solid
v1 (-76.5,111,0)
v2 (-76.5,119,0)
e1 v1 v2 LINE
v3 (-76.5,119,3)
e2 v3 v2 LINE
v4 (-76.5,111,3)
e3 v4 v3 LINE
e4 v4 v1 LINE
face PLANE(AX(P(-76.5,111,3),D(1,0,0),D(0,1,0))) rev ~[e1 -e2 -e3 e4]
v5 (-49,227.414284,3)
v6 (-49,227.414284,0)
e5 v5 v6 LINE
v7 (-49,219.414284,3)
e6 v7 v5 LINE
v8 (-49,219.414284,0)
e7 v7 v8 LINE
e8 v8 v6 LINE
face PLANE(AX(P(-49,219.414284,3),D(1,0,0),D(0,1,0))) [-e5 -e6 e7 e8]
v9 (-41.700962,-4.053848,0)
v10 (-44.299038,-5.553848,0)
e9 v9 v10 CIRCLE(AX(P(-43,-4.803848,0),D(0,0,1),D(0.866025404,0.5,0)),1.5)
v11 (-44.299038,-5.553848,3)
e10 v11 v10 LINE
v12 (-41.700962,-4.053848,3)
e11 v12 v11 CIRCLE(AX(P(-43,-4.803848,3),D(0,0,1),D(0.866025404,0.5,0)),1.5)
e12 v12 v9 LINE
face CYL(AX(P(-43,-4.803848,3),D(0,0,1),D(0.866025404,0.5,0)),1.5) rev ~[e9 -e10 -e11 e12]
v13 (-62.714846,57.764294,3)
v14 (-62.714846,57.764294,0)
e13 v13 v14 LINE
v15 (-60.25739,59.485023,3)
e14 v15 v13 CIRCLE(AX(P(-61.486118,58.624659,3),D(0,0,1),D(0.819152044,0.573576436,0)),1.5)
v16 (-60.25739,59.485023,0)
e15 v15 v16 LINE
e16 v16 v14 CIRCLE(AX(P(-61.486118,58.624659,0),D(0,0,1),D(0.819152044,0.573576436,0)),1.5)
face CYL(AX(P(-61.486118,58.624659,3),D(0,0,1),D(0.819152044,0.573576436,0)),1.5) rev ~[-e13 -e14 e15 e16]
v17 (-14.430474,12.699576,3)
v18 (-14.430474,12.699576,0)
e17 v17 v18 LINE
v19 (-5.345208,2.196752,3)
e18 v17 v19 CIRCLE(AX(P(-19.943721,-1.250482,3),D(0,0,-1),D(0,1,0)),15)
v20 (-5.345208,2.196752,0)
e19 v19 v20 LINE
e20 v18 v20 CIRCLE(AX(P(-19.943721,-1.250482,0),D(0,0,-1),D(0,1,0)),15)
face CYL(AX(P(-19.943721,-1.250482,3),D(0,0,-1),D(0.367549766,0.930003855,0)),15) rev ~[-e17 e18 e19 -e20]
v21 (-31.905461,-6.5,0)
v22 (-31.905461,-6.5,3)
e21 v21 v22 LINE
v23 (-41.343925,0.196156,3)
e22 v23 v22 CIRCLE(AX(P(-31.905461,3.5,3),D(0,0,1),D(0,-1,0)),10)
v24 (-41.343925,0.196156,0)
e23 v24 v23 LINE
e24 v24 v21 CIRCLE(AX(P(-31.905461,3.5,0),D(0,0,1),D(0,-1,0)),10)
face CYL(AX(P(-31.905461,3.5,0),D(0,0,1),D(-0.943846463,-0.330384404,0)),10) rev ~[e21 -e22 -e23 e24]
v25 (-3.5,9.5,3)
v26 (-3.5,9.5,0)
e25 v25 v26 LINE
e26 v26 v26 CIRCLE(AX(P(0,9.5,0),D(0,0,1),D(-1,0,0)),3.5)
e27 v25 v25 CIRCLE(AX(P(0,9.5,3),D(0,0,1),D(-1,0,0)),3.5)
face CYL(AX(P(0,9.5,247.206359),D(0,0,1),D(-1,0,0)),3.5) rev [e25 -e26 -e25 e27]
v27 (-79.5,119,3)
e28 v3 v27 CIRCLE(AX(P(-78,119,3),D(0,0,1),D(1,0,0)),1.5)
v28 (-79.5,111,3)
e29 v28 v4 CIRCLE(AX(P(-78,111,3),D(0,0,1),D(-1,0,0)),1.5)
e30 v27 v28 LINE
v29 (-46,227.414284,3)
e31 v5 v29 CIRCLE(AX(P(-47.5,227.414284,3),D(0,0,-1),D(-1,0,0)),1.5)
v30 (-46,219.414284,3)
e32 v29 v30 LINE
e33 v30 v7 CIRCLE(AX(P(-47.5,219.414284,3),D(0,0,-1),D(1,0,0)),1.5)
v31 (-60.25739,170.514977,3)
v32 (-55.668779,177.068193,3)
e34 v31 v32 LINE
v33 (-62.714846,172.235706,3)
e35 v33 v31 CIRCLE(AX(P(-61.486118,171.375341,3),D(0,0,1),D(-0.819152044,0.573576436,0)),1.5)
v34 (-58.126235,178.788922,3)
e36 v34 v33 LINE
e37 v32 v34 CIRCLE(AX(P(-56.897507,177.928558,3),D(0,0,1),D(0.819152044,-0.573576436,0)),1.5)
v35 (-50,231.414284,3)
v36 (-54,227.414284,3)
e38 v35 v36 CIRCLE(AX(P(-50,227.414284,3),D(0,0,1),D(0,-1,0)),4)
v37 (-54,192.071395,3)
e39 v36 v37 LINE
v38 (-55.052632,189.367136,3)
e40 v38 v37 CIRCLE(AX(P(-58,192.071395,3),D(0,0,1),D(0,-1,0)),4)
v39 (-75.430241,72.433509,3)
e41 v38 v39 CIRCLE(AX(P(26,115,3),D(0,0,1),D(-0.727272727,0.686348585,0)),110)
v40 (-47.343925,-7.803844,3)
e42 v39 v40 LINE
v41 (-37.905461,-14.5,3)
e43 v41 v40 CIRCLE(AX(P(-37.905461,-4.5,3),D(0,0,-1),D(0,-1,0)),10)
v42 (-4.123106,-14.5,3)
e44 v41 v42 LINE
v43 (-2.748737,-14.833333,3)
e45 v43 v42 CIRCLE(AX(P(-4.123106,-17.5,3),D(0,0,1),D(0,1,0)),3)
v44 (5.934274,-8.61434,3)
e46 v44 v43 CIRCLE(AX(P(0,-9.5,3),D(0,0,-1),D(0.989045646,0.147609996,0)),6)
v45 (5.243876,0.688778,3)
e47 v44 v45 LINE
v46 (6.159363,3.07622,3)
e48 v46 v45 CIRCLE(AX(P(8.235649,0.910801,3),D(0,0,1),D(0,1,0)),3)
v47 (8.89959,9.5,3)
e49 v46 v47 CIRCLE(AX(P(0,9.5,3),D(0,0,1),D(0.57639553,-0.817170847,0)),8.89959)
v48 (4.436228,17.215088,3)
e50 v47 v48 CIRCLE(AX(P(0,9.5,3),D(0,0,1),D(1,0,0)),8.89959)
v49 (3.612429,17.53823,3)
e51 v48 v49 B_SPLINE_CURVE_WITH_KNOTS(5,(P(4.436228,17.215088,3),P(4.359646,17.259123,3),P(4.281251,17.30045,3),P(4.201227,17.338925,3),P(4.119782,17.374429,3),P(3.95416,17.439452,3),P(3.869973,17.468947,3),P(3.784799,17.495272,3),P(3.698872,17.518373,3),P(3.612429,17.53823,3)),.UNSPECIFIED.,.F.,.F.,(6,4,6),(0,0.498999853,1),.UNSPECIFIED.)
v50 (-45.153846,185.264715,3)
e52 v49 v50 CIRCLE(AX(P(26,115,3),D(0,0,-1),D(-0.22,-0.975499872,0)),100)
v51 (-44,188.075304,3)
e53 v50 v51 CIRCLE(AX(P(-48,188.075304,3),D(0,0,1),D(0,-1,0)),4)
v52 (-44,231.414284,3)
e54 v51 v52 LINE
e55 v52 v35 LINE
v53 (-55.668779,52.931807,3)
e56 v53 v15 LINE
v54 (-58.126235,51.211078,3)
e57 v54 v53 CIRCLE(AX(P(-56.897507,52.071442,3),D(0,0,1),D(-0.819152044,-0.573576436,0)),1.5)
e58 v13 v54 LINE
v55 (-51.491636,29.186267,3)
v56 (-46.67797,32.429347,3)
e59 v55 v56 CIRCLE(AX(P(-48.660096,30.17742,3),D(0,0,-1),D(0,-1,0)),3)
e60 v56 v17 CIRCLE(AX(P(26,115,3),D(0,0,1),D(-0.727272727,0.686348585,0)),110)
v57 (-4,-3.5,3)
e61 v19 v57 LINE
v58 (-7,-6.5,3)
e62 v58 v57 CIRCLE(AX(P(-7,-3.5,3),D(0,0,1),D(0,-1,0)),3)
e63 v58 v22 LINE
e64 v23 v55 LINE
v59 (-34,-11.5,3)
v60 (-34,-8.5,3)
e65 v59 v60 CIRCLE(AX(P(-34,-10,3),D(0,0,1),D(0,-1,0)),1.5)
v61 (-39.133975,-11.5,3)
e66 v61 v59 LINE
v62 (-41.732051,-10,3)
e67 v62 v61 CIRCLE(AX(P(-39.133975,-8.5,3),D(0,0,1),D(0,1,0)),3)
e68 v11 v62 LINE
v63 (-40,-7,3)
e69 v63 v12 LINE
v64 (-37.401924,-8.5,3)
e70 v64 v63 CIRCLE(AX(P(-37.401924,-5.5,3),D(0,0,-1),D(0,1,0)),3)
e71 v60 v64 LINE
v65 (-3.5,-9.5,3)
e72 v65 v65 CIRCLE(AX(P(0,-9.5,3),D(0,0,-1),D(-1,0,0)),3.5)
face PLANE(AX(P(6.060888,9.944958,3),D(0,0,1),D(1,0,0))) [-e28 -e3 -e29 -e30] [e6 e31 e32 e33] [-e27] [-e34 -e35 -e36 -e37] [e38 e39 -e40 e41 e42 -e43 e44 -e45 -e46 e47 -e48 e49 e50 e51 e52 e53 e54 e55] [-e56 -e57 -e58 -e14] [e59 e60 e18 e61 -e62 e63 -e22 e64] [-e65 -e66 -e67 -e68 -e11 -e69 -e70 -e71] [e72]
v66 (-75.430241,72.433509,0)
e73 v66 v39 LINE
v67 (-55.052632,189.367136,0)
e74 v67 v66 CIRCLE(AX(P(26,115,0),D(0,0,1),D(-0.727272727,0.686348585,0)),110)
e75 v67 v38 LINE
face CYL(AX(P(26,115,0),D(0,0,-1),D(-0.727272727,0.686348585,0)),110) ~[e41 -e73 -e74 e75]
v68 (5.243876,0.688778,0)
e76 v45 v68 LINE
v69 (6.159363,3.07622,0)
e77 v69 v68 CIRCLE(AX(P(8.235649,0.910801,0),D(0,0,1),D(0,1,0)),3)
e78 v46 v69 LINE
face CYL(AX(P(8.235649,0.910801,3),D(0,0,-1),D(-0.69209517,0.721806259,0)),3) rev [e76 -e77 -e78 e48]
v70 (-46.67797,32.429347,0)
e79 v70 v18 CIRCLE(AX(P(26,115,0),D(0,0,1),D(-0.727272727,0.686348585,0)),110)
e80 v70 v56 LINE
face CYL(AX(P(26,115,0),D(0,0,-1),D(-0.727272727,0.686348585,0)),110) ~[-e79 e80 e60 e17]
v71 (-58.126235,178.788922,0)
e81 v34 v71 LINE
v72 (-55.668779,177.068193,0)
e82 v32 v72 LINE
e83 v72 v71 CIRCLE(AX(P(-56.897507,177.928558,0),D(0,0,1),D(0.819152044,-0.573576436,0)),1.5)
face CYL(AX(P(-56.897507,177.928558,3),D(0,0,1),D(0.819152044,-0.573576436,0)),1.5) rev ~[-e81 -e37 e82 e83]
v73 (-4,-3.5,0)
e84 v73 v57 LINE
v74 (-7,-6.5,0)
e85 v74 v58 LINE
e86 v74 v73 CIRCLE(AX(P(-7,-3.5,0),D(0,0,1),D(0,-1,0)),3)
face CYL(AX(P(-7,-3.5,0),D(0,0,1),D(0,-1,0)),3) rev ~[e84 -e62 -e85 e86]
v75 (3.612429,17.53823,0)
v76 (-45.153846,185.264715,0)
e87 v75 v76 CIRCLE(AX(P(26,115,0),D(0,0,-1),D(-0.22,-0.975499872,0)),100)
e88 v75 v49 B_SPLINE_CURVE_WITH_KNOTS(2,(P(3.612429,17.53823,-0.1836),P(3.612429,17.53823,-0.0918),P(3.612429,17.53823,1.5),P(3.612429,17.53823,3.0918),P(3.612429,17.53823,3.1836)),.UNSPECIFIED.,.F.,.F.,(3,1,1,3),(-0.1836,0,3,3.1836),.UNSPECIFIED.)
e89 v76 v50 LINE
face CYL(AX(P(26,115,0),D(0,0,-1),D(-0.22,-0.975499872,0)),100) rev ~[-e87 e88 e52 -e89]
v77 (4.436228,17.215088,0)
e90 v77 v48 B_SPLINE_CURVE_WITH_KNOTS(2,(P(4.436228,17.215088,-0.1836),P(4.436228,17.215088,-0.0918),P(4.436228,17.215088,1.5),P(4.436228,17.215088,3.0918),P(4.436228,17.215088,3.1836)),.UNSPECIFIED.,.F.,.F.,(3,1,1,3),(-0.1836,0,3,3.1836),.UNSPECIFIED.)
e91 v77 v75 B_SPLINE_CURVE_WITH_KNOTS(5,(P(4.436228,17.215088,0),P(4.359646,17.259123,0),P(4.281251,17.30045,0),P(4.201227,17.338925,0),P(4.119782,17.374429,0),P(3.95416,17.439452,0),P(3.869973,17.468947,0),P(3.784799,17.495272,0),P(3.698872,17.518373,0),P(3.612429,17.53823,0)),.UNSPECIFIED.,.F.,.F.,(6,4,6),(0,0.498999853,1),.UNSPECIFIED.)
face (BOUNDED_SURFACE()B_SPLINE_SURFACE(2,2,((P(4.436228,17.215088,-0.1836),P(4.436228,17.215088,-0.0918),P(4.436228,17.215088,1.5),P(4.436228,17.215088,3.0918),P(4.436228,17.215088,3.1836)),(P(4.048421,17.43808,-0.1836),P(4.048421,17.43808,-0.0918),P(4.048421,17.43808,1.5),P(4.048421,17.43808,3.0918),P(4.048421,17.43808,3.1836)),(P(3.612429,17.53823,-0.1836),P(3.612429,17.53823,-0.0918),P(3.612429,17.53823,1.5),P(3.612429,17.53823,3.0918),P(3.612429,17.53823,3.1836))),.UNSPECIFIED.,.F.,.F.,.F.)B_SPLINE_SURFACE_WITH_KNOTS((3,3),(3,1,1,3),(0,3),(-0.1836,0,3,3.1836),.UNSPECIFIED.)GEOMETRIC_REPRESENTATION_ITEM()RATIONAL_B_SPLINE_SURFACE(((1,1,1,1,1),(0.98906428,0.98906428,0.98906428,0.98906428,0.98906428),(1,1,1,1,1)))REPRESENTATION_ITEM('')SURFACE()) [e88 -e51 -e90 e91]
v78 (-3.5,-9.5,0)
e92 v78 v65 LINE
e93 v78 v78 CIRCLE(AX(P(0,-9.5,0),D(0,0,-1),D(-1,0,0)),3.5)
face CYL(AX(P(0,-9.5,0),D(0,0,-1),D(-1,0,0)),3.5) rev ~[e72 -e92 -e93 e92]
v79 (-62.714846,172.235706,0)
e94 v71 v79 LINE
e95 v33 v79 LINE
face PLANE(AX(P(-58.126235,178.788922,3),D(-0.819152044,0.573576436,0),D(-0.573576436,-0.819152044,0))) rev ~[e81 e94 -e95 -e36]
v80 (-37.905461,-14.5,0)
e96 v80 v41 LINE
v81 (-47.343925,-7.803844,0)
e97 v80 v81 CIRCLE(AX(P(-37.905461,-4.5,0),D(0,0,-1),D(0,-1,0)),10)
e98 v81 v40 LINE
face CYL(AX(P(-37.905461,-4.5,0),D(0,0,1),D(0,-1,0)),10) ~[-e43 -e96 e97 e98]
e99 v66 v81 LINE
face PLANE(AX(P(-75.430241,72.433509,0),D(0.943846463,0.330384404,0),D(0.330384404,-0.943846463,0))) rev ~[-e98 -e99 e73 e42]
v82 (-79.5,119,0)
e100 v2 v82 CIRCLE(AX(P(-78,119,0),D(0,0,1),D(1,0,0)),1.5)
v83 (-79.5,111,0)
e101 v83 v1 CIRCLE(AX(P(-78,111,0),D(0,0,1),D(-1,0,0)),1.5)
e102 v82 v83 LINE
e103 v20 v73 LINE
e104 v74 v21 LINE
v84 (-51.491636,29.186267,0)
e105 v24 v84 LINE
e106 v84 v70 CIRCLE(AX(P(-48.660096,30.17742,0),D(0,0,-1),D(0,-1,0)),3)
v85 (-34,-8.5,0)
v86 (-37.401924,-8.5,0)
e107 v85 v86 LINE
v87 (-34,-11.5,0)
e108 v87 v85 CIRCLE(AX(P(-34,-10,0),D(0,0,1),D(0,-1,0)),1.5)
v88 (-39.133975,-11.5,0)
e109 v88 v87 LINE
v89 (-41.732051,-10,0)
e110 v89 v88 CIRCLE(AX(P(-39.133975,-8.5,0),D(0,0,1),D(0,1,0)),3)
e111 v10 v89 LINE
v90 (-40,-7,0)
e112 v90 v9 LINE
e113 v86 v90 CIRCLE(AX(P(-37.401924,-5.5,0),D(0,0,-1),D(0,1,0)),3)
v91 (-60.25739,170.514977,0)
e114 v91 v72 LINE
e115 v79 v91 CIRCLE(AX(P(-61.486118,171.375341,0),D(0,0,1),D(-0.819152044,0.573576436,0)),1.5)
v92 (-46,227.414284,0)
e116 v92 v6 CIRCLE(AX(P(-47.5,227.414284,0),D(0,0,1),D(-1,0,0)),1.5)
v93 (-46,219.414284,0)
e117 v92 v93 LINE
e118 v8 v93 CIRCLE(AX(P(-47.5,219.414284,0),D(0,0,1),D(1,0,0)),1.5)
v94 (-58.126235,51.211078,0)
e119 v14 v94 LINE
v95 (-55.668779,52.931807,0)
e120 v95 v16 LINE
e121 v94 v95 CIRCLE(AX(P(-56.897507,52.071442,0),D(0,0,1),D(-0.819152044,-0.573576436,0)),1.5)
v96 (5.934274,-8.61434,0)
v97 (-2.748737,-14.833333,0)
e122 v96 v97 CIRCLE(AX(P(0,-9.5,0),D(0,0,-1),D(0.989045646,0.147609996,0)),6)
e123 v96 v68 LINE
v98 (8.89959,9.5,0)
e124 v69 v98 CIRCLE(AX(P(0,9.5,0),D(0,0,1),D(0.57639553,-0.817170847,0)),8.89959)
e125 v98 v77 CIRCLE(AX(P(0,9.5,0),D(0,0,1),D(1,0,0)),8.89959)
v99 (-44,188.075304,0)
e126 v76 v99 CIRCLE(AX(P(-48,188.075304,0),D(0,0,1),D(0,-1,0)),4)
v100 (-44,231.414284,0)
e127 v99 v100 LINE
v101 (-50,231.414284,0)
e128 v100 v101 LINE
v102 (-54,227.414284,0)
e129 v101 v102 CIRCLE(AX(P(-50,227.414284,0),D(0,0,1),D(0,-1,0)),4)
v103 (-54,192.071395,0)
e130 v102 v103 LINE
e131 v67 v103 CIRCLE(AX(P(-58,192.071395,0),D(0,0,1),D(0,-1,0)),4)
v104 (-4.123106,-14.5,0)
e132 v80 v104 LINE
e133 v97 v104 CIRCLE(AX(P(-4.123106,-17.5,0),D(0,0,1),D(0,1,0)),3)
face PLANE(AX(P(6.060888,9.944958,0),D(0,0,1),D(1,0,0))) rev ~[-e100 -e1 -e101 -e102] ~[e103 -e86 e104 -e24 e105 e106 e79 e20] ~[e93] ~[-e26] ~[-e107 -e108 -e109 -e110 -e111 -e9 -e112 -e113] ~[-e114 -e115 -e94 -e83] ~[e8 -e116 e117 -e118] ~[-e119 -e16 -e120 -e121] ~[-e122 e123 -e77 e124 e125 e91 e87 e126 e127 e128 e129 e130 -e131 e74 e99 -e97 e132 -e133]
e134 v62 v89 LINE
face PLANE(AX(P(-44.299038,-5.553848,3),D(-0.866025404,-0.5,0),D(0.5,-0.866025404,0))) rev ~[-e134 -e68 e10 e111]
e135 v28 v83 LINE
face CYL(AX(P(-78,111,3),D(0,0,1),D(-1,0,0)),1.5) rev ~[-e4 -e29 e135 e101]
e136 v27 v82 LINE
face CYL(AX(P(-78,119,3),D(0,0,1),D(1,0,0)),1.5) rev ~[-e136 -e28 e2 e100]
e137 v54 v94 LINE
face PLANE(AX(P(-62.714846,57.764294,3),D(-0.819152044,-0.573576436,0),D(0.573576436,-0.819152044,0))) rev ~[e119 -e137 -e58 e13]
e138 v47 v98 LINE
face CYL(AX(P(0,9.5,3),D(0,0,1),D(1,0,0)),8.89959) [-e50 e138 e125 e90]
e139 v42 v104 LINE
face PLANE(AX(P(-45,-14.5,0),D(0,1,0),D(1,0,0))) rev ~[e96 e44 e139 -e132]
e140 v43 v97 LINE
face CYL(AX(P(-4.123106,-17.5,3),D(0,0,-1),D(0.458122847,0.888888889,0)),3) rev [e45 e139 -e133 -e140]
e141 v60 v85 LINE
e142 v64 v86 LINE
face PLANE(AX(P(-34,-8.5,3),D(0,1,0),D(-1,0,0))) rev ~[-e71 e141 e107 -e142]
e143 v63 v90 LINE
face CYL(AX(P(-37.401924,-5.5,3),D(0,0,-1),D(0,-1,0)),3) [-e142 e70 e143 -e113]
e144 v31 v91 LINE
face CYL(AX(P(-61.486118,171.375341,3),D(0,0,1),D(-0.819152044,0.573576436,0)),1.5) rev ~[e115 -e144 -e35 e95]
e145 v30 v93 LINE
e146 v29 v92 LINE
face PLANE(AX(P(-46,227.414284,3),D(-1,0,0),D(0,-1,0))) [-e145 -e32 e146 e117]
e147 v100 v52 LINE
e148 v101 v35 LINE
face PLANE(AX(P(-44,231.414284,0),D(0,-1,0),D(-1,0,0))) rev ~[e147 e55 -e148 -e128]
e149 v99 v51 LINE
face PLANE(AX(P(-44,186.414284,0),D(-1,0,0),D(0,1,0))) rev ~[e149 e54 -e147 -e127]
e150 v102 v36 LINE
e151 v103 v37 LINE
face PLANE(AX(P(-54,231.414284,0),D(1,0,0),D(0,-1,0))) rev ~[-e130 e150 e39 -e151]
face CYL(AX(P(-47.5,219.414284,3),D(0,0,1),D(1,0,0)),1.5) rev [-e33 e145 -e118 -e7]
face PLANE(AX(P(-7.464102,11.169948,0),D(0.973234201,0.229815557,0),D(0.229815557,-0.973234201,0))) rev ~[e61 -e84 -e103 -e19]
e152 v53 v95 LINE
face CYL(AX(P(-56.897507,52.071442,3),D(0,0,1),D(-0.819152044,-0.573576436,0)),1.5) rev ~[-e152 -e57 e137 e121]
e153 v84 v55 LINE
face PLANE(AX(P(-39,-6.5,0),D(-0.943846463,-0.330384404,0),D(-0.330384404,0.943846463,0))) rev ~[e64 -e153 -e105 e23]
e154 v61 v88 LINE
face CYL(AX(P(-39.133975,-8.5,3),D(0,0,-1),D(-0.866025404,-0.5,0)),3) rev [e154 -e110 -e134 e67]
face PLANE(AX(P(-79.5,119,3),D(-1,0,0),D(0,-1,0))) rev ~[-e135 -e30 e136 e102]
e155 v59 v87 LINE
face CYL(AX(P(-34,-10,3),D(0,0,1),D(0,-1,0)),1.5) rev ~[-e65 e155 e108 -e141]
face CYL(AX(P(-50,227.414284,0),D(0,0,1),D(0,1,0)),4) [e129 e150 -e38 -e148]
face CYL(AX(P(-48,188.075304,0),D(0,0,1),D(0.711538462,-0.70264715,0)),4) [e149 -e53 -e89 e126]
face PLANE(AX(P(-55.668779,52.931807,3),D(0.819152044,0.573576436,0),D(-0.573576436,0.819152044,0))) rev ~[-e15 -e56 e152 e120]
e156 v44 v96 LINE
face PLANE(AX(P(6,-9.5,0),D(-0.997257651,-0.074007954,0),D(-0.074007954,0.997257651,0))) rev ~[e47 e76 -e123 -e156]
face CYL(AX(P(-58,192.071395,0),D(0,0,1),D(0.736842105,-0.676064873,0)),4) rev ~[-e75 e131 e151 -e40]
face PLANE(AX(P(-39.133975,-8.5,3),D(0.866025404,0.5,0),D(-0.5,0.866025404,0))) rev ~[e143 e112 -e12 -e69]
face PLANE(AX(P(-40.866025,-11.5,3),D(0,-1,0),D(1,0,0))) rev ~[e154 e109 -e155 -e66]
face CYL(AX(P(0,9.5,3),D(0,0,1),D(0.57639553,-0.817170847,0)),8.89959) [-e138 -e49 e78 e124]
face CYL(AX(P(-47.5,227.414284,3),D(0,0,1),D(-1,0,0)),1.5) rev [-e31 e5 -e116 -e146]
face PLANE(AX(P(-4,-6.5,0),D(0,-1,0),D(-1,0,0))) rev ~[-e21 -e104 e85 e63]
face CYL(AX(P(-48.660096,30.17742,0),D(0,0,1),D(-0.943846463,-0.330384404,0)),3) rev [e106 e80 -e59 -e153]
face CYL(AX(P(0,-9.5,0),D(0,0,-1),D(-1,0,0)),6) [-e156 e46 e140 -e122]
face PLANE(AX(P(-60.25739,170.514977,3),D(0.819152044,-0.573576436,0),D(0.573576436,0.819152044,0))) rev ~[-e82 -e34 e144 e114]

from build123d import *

# Parameters (mm, degrees)
SKETCH_1_R               = 1.5
EXTRUDE_1_DEPTH          = 3
FILLET_5_R               = 4
EXTRUDE_START            = -3
EXTRUDE_2_DEPTH          = 3
FILLET_7_R               = 3
FILLET_8_R               = 10
SKETCH_3_R               = 1.5
CUT_EXTRUDE_1_DEPTH      = 247.206358511
FILLET_9_R               = 3
CUT_EXTRUDE_2_DEPTH      = 9.5
FILLET_10_R              = 3
CUT_EXTRUDE_3_DEPTH      = 9.5
CUT_EXTRUDE_4_DEPTH      = 247.206358511
SKETCH_7_R               = 3.5
SKETCH_7_R_2             = 1.5
CUT_EXTRUDE_5_DEPTH      = 55
SKETCH_8_R               = 6
SKETCH_8_R_2             = 3.5
EXTRUDE_3_DEPTH          = 3
EXTRUDE_5_DEPTH          = 3
CUT_EXTRUDE_6_DEPTH      = 247.206358511
CUT_EXTRUDE_6_DEPTH_BACK = 247.206358511
SKETCH_12_R              = 3.5
FILLET_13_R              = 3
EXTRUDE_6_DEPTH          = 3
FILLET_14_R              = 3
FILLET_15_R              = 15


with BuildPart() as part:
    # 草图1 → 凸台-拉伸1 (new body)
    with BuildSketch(Plane.XY):
        with BuildLine():
            Line((4, -6.5), (4, 17.450012814))
            ThreePointArc((4, 17.450012814), (-70.193717354, 87.672930243), (-44, 186.414284285))
            Line((-44, 186.414284285), (-44, 231.414284285))
            Line((-44, 231.414284285), (-54, 231.414284285))
            Line((-54, 231.414284285), (-54, 190.498344353))
            ThreePointArc((-54, 190.498344353), (-80.042429579, 85.759563462), (-4, 9.169947557))
            Line((-4, 9.169947557), (-4, -6.5))
            ThreePointArc((-4, -6.5), (0, -14.5), (4, -6.5))
        make_face()
        with BuildLine():
            ThreePointArc((-1.5, -9.5), (0, -8), (1.5, -9.5))
            Line((1.5, -9.5), (-1.5, -9.5))
        make_face(mode=Mode.SUBTRACT)
        with Locations((0, 9.5)):
            Circle(SKETCH_1_R, mode=Mode.SUBTRACT)
    extrude(amount=EXTRUDE_1_DEPTH)

    # 圆角5
    fillet_5_edges = [part.edges().sort_by_distance(p)[0] for p in [
        (-54, 190.498344353, 1.5),
        (-54, 231.414284285, 1.5),
        (-44, 186.414284285, 1.5),
    ]]
    fillet(fillet_5_edges, radius=FILLET_5_R)

    # 草图2 → 凸台-拉伸2 (add)
    with BuildSketch(Plane.XY.offset(3).offset(EXTRUDE_START)):
        with BuildLine():
            Line((-45, -14.5), (0, -14.5))
            ThreePointArc((0, -14.5), (-4.472135955, -11.736067977), (-4, -6.5))
            Line((-4, -6.5), (-39, -6.5))
            Line((-39, -6.5), (-55.777803301, 41.431046717))
            ThreePointArc((-55.777803301, 41.431046717), (-66.906324005, 56.106749454), (-75.43024107, 72.433508525))
            Line((-75.43024107, 72.433508525), (-45, -14.5))
        make_face()
    extrude(amount=EXTRUDE_2_DEPTH)

    # 圆角7
    fillet_7_edges = [part.edges().sort_by_distance(p)[0] for p in [
        (-55.777803301, 41.431046717, 1.5),
    ]]
    fillet(fillet_7_edges, radius=FILLET_7_R)

    # 圆角8
    fillet_8_edges = [part.edges().sort_by_distance(p)[0] for p in [
        (-39, -6.5, 1.5),
        (-45, -14.5, 1.5),
    ]]
    fillet(fillet_8_edges, radius=FILLET_8_R)

    # 草图3 → 切除-拉伸1 (cut, through all)
    with BuildSketch(Plane.XY.offset(3)):
        with Locations((0, -9.5)):
            Circle(SKETCH_3_R)
    extrude(amount=-CUT_EXTRUDE_1_DEPTH, mode=Mode.SUBTRACT)

    # 圆角9
    fillet_9_edges = [part.edges().sort_by_distance(p)[0] for p in [
        (4, -6.5, 1.5),
        (-4, -6.5, 1.5),
    ]]
    fillet(fillet_9_edges, radius=FILLET_9_R)

    # 草图4 → 切除-拉伸2 (cut)
    with BuildSketch(Plane.XY.offset(3)):
        with BuildLine():
            Line((-34, -8.5), (-39.133974596, -8.5))
            Line((-39.133974596, -8.5), (-41.700961894, -4.053847577))
            ThreePointArc((-41.700961894, -4.053847577), (-43.75, -3.504809472), (-44.299038106, -5.553847577))
            Line((-44.299038106, -5.553847577), (-40.866025404, -11.5))
            Line((-40.866025404, -11.5), (-34, -11.5))
            ThreePointArc((-34, -11.5), (-32.5, -10), (-34, -8.5))
        make_face()
    extrude(amount=-CUT_EXTRUDE_2_DEPTH, mode=Mode.SUBTRACT)

    # 圆角10
    fillet_10_edges = [part.edges().sort_by_distance(p)[0] for p in [
        (-40.866025404, -11.5, 1.5),
        (-39.133974596, -8.5, 1.5),
    ]]
    fillet(fillet_10_edges, radius=FILLET_10_R)

    # 草图5 → 切除-拉伸3 (cut)
    with BuildSketch(Plane.XY.offset(3)):
        with BuildLine():
            Line((-58.126234927, 178.788922212), (-62.714846418, 172.235705858))
            ThreePointArc((-62.714846418, 172.235705858), (-62.346483006, 170.146613137), (-60.257390285, 170.514976549))
            Line((-60.257390285, 170.514976549), (-55.668778794, 177.068192903))
            ThreePointArc((-55.668778794, 177.068192903), (-56.037142206, 179.157285624), (-58.126234927, 178.788922212))
        make_face()
        with BuildLine():
            Line((-79.5, 119), (-79.5, 111))
            ThreePointArc((-79.5, 111), (-78, 109.5), (-76.5, 111))
            Line((-76.5, 111), (-76.5, 119))
            ThreePointArc((-76.5, 119), (-78, 120.5), (-79.5, 119))
        make_face()
        with BuildLine():
            Line((-62.714846418, 57.764294142), (-58.126234927, 51.211077788))
            ThreePointArc((-58.126234927, 51.211077788), (-56.037142206, 50.842714376), (-55.668778794, 52.931807097))
            Line((-55.668778794, 52.931807097), (-60.257390285, 59.485023451))
            ThreePointArc((-60.257390285, 59.485023451), (-62.346483006, 59.853386863), (-62.714846418, 57.764294142))
        make_face()
    extrude(amount=-CUT_EXTRUDE_3_DEPTH, mode=Mode.SUBTRACT)

    # 草图6 → 切除-拉伸4 (cut, through all)
    with BuildSketch(Plane.XY.offset(3)):
        with BuildLine():
            Line((-49, 219.414284285), (-49, 227.414284285))
            ThreePointArc((-49, 227.414284285), (-47.5, 228.914284285), (-46, 227.414284285))
            Line((-46, 227.414284285), (-46, 219.414284285))
            ThreePointArc((-46, 219.414284285), (-47.5, 217.914284285), (-49, 219.414284285))
        make_face()
    extrude(amount=-CUT_EXTRUDE_4_DEPTH, mode=Mode.SUBTRACT)

    # 草图7 → 切除-拉伸5 (cut)
    with BuildSketch(Plane(origin=(0, 0, 0), x_dir=(-1, 0, 0), z_dir=(0, 0, -1))):
        with Locations((0, -9.5)):
            Circle(SKETCH_7_R)
        with Locations((0, -9.5)):
            Circle(SKETCH_7_R_2, mode=Mode.SUBTRACT)
    extrude(amount=-CUT_EXTRUDE_5_DEPTH, mode=Mode.SUBTRACT)

    # 草图8 → 凸台-拉伸3 (add)
    with BuildSketch(Plane(origin=(0, 0, 0), x_dir=(-1, 0, 0), z_dir=(0, 0, -1))):
        with Locations((0, -9.5)):
            Circle(SKETCH_8_R)
        with Locations((0, -9.5)):
            Circle(SKETCH_8_R_2, mode=Mode.SUBTRACT)
    extrude(amount=-EXTRUDE_3_DEPTH)

    # 草图11 → 凸台-拉伸5 (add)
    with BuildSketch(Plane(origin=(0, 0, 0), x_dir=(-1, 0, 0), z_dir=(0, 0, -1))):
        Polygon((-4, 17.450012814), (-4, -5.027864045), (-6, -9.5), align=None)
        Polygon((4, -3.5), (4, 9.169947557), (7.464101615, 11.169947557), align=None)
    extrude(amount=-EXTRUDE_5_DEPTH)

    # 草图12 → 切除-拉伸6 (cut, two sides: drawn at the far end of the back side and taken through both)
    with BuildSketch(Plane(origin=(0, 0, 0), x_dir=(-1, 0, 0), z_dir=(0, 0, -1)).offset(-CUT_EXTRUDE_6_DEPTH_BACK)):
        with Locations((0, 9.5)):
            Circle(SKETCH_12_R)
    extrude(amount=CUT_EXTRUDE_6_DEPTH + CUT_EXTRUDE_6_DEPTH_BACK, mode=Mode.SUBTRACT)

    # 圆角13
    fillet_13_edges = [part.edges().sort_by_distance(p)[0] for p in [
        (-3.31662479, -14.5, 1.5),
    ]]
    fillet(fillet_13_edges, radius=FILLET_13_R)

    # 草图13 → 凸台-拉伸6 (add)
    with BuildSketch(Plane.XY.offset(3)):
        with BuildLine():
            ThreePointArc((8.899590088, 9.5), (7.576313883, 14.169279569), (4, 17.450012814))
            Line((4, 17.450012814), (5.129683944, 2.227514429))
            ThreePointArc((5.129683944, 2.227514429), (7.901100813, 5.404232712), (8.899590088, 9.5))
        make_face()
    extrude(amount=-EXTRUDE_6_DEPTH)

    # 圆角14
    fillet_14_edges = [part.edges().sort_by_distance(p)[0] for p in [
        (4, 17.450012814, 1.5),
        (5.129683944, 2.227514429, 1.5),
    ]]
    fillet(fillet_14_edges, radius=FILLET_14_R)

    # 圆角15
    fillet_15_edges = [part.edges().sort_by_distance(p)[0] for p in [
        (-7.219978098, 10.136121304, 1.5),
    ]]
    fillet(fillet_15_edges, radius=FILLET_15_R)


solid = part.part
